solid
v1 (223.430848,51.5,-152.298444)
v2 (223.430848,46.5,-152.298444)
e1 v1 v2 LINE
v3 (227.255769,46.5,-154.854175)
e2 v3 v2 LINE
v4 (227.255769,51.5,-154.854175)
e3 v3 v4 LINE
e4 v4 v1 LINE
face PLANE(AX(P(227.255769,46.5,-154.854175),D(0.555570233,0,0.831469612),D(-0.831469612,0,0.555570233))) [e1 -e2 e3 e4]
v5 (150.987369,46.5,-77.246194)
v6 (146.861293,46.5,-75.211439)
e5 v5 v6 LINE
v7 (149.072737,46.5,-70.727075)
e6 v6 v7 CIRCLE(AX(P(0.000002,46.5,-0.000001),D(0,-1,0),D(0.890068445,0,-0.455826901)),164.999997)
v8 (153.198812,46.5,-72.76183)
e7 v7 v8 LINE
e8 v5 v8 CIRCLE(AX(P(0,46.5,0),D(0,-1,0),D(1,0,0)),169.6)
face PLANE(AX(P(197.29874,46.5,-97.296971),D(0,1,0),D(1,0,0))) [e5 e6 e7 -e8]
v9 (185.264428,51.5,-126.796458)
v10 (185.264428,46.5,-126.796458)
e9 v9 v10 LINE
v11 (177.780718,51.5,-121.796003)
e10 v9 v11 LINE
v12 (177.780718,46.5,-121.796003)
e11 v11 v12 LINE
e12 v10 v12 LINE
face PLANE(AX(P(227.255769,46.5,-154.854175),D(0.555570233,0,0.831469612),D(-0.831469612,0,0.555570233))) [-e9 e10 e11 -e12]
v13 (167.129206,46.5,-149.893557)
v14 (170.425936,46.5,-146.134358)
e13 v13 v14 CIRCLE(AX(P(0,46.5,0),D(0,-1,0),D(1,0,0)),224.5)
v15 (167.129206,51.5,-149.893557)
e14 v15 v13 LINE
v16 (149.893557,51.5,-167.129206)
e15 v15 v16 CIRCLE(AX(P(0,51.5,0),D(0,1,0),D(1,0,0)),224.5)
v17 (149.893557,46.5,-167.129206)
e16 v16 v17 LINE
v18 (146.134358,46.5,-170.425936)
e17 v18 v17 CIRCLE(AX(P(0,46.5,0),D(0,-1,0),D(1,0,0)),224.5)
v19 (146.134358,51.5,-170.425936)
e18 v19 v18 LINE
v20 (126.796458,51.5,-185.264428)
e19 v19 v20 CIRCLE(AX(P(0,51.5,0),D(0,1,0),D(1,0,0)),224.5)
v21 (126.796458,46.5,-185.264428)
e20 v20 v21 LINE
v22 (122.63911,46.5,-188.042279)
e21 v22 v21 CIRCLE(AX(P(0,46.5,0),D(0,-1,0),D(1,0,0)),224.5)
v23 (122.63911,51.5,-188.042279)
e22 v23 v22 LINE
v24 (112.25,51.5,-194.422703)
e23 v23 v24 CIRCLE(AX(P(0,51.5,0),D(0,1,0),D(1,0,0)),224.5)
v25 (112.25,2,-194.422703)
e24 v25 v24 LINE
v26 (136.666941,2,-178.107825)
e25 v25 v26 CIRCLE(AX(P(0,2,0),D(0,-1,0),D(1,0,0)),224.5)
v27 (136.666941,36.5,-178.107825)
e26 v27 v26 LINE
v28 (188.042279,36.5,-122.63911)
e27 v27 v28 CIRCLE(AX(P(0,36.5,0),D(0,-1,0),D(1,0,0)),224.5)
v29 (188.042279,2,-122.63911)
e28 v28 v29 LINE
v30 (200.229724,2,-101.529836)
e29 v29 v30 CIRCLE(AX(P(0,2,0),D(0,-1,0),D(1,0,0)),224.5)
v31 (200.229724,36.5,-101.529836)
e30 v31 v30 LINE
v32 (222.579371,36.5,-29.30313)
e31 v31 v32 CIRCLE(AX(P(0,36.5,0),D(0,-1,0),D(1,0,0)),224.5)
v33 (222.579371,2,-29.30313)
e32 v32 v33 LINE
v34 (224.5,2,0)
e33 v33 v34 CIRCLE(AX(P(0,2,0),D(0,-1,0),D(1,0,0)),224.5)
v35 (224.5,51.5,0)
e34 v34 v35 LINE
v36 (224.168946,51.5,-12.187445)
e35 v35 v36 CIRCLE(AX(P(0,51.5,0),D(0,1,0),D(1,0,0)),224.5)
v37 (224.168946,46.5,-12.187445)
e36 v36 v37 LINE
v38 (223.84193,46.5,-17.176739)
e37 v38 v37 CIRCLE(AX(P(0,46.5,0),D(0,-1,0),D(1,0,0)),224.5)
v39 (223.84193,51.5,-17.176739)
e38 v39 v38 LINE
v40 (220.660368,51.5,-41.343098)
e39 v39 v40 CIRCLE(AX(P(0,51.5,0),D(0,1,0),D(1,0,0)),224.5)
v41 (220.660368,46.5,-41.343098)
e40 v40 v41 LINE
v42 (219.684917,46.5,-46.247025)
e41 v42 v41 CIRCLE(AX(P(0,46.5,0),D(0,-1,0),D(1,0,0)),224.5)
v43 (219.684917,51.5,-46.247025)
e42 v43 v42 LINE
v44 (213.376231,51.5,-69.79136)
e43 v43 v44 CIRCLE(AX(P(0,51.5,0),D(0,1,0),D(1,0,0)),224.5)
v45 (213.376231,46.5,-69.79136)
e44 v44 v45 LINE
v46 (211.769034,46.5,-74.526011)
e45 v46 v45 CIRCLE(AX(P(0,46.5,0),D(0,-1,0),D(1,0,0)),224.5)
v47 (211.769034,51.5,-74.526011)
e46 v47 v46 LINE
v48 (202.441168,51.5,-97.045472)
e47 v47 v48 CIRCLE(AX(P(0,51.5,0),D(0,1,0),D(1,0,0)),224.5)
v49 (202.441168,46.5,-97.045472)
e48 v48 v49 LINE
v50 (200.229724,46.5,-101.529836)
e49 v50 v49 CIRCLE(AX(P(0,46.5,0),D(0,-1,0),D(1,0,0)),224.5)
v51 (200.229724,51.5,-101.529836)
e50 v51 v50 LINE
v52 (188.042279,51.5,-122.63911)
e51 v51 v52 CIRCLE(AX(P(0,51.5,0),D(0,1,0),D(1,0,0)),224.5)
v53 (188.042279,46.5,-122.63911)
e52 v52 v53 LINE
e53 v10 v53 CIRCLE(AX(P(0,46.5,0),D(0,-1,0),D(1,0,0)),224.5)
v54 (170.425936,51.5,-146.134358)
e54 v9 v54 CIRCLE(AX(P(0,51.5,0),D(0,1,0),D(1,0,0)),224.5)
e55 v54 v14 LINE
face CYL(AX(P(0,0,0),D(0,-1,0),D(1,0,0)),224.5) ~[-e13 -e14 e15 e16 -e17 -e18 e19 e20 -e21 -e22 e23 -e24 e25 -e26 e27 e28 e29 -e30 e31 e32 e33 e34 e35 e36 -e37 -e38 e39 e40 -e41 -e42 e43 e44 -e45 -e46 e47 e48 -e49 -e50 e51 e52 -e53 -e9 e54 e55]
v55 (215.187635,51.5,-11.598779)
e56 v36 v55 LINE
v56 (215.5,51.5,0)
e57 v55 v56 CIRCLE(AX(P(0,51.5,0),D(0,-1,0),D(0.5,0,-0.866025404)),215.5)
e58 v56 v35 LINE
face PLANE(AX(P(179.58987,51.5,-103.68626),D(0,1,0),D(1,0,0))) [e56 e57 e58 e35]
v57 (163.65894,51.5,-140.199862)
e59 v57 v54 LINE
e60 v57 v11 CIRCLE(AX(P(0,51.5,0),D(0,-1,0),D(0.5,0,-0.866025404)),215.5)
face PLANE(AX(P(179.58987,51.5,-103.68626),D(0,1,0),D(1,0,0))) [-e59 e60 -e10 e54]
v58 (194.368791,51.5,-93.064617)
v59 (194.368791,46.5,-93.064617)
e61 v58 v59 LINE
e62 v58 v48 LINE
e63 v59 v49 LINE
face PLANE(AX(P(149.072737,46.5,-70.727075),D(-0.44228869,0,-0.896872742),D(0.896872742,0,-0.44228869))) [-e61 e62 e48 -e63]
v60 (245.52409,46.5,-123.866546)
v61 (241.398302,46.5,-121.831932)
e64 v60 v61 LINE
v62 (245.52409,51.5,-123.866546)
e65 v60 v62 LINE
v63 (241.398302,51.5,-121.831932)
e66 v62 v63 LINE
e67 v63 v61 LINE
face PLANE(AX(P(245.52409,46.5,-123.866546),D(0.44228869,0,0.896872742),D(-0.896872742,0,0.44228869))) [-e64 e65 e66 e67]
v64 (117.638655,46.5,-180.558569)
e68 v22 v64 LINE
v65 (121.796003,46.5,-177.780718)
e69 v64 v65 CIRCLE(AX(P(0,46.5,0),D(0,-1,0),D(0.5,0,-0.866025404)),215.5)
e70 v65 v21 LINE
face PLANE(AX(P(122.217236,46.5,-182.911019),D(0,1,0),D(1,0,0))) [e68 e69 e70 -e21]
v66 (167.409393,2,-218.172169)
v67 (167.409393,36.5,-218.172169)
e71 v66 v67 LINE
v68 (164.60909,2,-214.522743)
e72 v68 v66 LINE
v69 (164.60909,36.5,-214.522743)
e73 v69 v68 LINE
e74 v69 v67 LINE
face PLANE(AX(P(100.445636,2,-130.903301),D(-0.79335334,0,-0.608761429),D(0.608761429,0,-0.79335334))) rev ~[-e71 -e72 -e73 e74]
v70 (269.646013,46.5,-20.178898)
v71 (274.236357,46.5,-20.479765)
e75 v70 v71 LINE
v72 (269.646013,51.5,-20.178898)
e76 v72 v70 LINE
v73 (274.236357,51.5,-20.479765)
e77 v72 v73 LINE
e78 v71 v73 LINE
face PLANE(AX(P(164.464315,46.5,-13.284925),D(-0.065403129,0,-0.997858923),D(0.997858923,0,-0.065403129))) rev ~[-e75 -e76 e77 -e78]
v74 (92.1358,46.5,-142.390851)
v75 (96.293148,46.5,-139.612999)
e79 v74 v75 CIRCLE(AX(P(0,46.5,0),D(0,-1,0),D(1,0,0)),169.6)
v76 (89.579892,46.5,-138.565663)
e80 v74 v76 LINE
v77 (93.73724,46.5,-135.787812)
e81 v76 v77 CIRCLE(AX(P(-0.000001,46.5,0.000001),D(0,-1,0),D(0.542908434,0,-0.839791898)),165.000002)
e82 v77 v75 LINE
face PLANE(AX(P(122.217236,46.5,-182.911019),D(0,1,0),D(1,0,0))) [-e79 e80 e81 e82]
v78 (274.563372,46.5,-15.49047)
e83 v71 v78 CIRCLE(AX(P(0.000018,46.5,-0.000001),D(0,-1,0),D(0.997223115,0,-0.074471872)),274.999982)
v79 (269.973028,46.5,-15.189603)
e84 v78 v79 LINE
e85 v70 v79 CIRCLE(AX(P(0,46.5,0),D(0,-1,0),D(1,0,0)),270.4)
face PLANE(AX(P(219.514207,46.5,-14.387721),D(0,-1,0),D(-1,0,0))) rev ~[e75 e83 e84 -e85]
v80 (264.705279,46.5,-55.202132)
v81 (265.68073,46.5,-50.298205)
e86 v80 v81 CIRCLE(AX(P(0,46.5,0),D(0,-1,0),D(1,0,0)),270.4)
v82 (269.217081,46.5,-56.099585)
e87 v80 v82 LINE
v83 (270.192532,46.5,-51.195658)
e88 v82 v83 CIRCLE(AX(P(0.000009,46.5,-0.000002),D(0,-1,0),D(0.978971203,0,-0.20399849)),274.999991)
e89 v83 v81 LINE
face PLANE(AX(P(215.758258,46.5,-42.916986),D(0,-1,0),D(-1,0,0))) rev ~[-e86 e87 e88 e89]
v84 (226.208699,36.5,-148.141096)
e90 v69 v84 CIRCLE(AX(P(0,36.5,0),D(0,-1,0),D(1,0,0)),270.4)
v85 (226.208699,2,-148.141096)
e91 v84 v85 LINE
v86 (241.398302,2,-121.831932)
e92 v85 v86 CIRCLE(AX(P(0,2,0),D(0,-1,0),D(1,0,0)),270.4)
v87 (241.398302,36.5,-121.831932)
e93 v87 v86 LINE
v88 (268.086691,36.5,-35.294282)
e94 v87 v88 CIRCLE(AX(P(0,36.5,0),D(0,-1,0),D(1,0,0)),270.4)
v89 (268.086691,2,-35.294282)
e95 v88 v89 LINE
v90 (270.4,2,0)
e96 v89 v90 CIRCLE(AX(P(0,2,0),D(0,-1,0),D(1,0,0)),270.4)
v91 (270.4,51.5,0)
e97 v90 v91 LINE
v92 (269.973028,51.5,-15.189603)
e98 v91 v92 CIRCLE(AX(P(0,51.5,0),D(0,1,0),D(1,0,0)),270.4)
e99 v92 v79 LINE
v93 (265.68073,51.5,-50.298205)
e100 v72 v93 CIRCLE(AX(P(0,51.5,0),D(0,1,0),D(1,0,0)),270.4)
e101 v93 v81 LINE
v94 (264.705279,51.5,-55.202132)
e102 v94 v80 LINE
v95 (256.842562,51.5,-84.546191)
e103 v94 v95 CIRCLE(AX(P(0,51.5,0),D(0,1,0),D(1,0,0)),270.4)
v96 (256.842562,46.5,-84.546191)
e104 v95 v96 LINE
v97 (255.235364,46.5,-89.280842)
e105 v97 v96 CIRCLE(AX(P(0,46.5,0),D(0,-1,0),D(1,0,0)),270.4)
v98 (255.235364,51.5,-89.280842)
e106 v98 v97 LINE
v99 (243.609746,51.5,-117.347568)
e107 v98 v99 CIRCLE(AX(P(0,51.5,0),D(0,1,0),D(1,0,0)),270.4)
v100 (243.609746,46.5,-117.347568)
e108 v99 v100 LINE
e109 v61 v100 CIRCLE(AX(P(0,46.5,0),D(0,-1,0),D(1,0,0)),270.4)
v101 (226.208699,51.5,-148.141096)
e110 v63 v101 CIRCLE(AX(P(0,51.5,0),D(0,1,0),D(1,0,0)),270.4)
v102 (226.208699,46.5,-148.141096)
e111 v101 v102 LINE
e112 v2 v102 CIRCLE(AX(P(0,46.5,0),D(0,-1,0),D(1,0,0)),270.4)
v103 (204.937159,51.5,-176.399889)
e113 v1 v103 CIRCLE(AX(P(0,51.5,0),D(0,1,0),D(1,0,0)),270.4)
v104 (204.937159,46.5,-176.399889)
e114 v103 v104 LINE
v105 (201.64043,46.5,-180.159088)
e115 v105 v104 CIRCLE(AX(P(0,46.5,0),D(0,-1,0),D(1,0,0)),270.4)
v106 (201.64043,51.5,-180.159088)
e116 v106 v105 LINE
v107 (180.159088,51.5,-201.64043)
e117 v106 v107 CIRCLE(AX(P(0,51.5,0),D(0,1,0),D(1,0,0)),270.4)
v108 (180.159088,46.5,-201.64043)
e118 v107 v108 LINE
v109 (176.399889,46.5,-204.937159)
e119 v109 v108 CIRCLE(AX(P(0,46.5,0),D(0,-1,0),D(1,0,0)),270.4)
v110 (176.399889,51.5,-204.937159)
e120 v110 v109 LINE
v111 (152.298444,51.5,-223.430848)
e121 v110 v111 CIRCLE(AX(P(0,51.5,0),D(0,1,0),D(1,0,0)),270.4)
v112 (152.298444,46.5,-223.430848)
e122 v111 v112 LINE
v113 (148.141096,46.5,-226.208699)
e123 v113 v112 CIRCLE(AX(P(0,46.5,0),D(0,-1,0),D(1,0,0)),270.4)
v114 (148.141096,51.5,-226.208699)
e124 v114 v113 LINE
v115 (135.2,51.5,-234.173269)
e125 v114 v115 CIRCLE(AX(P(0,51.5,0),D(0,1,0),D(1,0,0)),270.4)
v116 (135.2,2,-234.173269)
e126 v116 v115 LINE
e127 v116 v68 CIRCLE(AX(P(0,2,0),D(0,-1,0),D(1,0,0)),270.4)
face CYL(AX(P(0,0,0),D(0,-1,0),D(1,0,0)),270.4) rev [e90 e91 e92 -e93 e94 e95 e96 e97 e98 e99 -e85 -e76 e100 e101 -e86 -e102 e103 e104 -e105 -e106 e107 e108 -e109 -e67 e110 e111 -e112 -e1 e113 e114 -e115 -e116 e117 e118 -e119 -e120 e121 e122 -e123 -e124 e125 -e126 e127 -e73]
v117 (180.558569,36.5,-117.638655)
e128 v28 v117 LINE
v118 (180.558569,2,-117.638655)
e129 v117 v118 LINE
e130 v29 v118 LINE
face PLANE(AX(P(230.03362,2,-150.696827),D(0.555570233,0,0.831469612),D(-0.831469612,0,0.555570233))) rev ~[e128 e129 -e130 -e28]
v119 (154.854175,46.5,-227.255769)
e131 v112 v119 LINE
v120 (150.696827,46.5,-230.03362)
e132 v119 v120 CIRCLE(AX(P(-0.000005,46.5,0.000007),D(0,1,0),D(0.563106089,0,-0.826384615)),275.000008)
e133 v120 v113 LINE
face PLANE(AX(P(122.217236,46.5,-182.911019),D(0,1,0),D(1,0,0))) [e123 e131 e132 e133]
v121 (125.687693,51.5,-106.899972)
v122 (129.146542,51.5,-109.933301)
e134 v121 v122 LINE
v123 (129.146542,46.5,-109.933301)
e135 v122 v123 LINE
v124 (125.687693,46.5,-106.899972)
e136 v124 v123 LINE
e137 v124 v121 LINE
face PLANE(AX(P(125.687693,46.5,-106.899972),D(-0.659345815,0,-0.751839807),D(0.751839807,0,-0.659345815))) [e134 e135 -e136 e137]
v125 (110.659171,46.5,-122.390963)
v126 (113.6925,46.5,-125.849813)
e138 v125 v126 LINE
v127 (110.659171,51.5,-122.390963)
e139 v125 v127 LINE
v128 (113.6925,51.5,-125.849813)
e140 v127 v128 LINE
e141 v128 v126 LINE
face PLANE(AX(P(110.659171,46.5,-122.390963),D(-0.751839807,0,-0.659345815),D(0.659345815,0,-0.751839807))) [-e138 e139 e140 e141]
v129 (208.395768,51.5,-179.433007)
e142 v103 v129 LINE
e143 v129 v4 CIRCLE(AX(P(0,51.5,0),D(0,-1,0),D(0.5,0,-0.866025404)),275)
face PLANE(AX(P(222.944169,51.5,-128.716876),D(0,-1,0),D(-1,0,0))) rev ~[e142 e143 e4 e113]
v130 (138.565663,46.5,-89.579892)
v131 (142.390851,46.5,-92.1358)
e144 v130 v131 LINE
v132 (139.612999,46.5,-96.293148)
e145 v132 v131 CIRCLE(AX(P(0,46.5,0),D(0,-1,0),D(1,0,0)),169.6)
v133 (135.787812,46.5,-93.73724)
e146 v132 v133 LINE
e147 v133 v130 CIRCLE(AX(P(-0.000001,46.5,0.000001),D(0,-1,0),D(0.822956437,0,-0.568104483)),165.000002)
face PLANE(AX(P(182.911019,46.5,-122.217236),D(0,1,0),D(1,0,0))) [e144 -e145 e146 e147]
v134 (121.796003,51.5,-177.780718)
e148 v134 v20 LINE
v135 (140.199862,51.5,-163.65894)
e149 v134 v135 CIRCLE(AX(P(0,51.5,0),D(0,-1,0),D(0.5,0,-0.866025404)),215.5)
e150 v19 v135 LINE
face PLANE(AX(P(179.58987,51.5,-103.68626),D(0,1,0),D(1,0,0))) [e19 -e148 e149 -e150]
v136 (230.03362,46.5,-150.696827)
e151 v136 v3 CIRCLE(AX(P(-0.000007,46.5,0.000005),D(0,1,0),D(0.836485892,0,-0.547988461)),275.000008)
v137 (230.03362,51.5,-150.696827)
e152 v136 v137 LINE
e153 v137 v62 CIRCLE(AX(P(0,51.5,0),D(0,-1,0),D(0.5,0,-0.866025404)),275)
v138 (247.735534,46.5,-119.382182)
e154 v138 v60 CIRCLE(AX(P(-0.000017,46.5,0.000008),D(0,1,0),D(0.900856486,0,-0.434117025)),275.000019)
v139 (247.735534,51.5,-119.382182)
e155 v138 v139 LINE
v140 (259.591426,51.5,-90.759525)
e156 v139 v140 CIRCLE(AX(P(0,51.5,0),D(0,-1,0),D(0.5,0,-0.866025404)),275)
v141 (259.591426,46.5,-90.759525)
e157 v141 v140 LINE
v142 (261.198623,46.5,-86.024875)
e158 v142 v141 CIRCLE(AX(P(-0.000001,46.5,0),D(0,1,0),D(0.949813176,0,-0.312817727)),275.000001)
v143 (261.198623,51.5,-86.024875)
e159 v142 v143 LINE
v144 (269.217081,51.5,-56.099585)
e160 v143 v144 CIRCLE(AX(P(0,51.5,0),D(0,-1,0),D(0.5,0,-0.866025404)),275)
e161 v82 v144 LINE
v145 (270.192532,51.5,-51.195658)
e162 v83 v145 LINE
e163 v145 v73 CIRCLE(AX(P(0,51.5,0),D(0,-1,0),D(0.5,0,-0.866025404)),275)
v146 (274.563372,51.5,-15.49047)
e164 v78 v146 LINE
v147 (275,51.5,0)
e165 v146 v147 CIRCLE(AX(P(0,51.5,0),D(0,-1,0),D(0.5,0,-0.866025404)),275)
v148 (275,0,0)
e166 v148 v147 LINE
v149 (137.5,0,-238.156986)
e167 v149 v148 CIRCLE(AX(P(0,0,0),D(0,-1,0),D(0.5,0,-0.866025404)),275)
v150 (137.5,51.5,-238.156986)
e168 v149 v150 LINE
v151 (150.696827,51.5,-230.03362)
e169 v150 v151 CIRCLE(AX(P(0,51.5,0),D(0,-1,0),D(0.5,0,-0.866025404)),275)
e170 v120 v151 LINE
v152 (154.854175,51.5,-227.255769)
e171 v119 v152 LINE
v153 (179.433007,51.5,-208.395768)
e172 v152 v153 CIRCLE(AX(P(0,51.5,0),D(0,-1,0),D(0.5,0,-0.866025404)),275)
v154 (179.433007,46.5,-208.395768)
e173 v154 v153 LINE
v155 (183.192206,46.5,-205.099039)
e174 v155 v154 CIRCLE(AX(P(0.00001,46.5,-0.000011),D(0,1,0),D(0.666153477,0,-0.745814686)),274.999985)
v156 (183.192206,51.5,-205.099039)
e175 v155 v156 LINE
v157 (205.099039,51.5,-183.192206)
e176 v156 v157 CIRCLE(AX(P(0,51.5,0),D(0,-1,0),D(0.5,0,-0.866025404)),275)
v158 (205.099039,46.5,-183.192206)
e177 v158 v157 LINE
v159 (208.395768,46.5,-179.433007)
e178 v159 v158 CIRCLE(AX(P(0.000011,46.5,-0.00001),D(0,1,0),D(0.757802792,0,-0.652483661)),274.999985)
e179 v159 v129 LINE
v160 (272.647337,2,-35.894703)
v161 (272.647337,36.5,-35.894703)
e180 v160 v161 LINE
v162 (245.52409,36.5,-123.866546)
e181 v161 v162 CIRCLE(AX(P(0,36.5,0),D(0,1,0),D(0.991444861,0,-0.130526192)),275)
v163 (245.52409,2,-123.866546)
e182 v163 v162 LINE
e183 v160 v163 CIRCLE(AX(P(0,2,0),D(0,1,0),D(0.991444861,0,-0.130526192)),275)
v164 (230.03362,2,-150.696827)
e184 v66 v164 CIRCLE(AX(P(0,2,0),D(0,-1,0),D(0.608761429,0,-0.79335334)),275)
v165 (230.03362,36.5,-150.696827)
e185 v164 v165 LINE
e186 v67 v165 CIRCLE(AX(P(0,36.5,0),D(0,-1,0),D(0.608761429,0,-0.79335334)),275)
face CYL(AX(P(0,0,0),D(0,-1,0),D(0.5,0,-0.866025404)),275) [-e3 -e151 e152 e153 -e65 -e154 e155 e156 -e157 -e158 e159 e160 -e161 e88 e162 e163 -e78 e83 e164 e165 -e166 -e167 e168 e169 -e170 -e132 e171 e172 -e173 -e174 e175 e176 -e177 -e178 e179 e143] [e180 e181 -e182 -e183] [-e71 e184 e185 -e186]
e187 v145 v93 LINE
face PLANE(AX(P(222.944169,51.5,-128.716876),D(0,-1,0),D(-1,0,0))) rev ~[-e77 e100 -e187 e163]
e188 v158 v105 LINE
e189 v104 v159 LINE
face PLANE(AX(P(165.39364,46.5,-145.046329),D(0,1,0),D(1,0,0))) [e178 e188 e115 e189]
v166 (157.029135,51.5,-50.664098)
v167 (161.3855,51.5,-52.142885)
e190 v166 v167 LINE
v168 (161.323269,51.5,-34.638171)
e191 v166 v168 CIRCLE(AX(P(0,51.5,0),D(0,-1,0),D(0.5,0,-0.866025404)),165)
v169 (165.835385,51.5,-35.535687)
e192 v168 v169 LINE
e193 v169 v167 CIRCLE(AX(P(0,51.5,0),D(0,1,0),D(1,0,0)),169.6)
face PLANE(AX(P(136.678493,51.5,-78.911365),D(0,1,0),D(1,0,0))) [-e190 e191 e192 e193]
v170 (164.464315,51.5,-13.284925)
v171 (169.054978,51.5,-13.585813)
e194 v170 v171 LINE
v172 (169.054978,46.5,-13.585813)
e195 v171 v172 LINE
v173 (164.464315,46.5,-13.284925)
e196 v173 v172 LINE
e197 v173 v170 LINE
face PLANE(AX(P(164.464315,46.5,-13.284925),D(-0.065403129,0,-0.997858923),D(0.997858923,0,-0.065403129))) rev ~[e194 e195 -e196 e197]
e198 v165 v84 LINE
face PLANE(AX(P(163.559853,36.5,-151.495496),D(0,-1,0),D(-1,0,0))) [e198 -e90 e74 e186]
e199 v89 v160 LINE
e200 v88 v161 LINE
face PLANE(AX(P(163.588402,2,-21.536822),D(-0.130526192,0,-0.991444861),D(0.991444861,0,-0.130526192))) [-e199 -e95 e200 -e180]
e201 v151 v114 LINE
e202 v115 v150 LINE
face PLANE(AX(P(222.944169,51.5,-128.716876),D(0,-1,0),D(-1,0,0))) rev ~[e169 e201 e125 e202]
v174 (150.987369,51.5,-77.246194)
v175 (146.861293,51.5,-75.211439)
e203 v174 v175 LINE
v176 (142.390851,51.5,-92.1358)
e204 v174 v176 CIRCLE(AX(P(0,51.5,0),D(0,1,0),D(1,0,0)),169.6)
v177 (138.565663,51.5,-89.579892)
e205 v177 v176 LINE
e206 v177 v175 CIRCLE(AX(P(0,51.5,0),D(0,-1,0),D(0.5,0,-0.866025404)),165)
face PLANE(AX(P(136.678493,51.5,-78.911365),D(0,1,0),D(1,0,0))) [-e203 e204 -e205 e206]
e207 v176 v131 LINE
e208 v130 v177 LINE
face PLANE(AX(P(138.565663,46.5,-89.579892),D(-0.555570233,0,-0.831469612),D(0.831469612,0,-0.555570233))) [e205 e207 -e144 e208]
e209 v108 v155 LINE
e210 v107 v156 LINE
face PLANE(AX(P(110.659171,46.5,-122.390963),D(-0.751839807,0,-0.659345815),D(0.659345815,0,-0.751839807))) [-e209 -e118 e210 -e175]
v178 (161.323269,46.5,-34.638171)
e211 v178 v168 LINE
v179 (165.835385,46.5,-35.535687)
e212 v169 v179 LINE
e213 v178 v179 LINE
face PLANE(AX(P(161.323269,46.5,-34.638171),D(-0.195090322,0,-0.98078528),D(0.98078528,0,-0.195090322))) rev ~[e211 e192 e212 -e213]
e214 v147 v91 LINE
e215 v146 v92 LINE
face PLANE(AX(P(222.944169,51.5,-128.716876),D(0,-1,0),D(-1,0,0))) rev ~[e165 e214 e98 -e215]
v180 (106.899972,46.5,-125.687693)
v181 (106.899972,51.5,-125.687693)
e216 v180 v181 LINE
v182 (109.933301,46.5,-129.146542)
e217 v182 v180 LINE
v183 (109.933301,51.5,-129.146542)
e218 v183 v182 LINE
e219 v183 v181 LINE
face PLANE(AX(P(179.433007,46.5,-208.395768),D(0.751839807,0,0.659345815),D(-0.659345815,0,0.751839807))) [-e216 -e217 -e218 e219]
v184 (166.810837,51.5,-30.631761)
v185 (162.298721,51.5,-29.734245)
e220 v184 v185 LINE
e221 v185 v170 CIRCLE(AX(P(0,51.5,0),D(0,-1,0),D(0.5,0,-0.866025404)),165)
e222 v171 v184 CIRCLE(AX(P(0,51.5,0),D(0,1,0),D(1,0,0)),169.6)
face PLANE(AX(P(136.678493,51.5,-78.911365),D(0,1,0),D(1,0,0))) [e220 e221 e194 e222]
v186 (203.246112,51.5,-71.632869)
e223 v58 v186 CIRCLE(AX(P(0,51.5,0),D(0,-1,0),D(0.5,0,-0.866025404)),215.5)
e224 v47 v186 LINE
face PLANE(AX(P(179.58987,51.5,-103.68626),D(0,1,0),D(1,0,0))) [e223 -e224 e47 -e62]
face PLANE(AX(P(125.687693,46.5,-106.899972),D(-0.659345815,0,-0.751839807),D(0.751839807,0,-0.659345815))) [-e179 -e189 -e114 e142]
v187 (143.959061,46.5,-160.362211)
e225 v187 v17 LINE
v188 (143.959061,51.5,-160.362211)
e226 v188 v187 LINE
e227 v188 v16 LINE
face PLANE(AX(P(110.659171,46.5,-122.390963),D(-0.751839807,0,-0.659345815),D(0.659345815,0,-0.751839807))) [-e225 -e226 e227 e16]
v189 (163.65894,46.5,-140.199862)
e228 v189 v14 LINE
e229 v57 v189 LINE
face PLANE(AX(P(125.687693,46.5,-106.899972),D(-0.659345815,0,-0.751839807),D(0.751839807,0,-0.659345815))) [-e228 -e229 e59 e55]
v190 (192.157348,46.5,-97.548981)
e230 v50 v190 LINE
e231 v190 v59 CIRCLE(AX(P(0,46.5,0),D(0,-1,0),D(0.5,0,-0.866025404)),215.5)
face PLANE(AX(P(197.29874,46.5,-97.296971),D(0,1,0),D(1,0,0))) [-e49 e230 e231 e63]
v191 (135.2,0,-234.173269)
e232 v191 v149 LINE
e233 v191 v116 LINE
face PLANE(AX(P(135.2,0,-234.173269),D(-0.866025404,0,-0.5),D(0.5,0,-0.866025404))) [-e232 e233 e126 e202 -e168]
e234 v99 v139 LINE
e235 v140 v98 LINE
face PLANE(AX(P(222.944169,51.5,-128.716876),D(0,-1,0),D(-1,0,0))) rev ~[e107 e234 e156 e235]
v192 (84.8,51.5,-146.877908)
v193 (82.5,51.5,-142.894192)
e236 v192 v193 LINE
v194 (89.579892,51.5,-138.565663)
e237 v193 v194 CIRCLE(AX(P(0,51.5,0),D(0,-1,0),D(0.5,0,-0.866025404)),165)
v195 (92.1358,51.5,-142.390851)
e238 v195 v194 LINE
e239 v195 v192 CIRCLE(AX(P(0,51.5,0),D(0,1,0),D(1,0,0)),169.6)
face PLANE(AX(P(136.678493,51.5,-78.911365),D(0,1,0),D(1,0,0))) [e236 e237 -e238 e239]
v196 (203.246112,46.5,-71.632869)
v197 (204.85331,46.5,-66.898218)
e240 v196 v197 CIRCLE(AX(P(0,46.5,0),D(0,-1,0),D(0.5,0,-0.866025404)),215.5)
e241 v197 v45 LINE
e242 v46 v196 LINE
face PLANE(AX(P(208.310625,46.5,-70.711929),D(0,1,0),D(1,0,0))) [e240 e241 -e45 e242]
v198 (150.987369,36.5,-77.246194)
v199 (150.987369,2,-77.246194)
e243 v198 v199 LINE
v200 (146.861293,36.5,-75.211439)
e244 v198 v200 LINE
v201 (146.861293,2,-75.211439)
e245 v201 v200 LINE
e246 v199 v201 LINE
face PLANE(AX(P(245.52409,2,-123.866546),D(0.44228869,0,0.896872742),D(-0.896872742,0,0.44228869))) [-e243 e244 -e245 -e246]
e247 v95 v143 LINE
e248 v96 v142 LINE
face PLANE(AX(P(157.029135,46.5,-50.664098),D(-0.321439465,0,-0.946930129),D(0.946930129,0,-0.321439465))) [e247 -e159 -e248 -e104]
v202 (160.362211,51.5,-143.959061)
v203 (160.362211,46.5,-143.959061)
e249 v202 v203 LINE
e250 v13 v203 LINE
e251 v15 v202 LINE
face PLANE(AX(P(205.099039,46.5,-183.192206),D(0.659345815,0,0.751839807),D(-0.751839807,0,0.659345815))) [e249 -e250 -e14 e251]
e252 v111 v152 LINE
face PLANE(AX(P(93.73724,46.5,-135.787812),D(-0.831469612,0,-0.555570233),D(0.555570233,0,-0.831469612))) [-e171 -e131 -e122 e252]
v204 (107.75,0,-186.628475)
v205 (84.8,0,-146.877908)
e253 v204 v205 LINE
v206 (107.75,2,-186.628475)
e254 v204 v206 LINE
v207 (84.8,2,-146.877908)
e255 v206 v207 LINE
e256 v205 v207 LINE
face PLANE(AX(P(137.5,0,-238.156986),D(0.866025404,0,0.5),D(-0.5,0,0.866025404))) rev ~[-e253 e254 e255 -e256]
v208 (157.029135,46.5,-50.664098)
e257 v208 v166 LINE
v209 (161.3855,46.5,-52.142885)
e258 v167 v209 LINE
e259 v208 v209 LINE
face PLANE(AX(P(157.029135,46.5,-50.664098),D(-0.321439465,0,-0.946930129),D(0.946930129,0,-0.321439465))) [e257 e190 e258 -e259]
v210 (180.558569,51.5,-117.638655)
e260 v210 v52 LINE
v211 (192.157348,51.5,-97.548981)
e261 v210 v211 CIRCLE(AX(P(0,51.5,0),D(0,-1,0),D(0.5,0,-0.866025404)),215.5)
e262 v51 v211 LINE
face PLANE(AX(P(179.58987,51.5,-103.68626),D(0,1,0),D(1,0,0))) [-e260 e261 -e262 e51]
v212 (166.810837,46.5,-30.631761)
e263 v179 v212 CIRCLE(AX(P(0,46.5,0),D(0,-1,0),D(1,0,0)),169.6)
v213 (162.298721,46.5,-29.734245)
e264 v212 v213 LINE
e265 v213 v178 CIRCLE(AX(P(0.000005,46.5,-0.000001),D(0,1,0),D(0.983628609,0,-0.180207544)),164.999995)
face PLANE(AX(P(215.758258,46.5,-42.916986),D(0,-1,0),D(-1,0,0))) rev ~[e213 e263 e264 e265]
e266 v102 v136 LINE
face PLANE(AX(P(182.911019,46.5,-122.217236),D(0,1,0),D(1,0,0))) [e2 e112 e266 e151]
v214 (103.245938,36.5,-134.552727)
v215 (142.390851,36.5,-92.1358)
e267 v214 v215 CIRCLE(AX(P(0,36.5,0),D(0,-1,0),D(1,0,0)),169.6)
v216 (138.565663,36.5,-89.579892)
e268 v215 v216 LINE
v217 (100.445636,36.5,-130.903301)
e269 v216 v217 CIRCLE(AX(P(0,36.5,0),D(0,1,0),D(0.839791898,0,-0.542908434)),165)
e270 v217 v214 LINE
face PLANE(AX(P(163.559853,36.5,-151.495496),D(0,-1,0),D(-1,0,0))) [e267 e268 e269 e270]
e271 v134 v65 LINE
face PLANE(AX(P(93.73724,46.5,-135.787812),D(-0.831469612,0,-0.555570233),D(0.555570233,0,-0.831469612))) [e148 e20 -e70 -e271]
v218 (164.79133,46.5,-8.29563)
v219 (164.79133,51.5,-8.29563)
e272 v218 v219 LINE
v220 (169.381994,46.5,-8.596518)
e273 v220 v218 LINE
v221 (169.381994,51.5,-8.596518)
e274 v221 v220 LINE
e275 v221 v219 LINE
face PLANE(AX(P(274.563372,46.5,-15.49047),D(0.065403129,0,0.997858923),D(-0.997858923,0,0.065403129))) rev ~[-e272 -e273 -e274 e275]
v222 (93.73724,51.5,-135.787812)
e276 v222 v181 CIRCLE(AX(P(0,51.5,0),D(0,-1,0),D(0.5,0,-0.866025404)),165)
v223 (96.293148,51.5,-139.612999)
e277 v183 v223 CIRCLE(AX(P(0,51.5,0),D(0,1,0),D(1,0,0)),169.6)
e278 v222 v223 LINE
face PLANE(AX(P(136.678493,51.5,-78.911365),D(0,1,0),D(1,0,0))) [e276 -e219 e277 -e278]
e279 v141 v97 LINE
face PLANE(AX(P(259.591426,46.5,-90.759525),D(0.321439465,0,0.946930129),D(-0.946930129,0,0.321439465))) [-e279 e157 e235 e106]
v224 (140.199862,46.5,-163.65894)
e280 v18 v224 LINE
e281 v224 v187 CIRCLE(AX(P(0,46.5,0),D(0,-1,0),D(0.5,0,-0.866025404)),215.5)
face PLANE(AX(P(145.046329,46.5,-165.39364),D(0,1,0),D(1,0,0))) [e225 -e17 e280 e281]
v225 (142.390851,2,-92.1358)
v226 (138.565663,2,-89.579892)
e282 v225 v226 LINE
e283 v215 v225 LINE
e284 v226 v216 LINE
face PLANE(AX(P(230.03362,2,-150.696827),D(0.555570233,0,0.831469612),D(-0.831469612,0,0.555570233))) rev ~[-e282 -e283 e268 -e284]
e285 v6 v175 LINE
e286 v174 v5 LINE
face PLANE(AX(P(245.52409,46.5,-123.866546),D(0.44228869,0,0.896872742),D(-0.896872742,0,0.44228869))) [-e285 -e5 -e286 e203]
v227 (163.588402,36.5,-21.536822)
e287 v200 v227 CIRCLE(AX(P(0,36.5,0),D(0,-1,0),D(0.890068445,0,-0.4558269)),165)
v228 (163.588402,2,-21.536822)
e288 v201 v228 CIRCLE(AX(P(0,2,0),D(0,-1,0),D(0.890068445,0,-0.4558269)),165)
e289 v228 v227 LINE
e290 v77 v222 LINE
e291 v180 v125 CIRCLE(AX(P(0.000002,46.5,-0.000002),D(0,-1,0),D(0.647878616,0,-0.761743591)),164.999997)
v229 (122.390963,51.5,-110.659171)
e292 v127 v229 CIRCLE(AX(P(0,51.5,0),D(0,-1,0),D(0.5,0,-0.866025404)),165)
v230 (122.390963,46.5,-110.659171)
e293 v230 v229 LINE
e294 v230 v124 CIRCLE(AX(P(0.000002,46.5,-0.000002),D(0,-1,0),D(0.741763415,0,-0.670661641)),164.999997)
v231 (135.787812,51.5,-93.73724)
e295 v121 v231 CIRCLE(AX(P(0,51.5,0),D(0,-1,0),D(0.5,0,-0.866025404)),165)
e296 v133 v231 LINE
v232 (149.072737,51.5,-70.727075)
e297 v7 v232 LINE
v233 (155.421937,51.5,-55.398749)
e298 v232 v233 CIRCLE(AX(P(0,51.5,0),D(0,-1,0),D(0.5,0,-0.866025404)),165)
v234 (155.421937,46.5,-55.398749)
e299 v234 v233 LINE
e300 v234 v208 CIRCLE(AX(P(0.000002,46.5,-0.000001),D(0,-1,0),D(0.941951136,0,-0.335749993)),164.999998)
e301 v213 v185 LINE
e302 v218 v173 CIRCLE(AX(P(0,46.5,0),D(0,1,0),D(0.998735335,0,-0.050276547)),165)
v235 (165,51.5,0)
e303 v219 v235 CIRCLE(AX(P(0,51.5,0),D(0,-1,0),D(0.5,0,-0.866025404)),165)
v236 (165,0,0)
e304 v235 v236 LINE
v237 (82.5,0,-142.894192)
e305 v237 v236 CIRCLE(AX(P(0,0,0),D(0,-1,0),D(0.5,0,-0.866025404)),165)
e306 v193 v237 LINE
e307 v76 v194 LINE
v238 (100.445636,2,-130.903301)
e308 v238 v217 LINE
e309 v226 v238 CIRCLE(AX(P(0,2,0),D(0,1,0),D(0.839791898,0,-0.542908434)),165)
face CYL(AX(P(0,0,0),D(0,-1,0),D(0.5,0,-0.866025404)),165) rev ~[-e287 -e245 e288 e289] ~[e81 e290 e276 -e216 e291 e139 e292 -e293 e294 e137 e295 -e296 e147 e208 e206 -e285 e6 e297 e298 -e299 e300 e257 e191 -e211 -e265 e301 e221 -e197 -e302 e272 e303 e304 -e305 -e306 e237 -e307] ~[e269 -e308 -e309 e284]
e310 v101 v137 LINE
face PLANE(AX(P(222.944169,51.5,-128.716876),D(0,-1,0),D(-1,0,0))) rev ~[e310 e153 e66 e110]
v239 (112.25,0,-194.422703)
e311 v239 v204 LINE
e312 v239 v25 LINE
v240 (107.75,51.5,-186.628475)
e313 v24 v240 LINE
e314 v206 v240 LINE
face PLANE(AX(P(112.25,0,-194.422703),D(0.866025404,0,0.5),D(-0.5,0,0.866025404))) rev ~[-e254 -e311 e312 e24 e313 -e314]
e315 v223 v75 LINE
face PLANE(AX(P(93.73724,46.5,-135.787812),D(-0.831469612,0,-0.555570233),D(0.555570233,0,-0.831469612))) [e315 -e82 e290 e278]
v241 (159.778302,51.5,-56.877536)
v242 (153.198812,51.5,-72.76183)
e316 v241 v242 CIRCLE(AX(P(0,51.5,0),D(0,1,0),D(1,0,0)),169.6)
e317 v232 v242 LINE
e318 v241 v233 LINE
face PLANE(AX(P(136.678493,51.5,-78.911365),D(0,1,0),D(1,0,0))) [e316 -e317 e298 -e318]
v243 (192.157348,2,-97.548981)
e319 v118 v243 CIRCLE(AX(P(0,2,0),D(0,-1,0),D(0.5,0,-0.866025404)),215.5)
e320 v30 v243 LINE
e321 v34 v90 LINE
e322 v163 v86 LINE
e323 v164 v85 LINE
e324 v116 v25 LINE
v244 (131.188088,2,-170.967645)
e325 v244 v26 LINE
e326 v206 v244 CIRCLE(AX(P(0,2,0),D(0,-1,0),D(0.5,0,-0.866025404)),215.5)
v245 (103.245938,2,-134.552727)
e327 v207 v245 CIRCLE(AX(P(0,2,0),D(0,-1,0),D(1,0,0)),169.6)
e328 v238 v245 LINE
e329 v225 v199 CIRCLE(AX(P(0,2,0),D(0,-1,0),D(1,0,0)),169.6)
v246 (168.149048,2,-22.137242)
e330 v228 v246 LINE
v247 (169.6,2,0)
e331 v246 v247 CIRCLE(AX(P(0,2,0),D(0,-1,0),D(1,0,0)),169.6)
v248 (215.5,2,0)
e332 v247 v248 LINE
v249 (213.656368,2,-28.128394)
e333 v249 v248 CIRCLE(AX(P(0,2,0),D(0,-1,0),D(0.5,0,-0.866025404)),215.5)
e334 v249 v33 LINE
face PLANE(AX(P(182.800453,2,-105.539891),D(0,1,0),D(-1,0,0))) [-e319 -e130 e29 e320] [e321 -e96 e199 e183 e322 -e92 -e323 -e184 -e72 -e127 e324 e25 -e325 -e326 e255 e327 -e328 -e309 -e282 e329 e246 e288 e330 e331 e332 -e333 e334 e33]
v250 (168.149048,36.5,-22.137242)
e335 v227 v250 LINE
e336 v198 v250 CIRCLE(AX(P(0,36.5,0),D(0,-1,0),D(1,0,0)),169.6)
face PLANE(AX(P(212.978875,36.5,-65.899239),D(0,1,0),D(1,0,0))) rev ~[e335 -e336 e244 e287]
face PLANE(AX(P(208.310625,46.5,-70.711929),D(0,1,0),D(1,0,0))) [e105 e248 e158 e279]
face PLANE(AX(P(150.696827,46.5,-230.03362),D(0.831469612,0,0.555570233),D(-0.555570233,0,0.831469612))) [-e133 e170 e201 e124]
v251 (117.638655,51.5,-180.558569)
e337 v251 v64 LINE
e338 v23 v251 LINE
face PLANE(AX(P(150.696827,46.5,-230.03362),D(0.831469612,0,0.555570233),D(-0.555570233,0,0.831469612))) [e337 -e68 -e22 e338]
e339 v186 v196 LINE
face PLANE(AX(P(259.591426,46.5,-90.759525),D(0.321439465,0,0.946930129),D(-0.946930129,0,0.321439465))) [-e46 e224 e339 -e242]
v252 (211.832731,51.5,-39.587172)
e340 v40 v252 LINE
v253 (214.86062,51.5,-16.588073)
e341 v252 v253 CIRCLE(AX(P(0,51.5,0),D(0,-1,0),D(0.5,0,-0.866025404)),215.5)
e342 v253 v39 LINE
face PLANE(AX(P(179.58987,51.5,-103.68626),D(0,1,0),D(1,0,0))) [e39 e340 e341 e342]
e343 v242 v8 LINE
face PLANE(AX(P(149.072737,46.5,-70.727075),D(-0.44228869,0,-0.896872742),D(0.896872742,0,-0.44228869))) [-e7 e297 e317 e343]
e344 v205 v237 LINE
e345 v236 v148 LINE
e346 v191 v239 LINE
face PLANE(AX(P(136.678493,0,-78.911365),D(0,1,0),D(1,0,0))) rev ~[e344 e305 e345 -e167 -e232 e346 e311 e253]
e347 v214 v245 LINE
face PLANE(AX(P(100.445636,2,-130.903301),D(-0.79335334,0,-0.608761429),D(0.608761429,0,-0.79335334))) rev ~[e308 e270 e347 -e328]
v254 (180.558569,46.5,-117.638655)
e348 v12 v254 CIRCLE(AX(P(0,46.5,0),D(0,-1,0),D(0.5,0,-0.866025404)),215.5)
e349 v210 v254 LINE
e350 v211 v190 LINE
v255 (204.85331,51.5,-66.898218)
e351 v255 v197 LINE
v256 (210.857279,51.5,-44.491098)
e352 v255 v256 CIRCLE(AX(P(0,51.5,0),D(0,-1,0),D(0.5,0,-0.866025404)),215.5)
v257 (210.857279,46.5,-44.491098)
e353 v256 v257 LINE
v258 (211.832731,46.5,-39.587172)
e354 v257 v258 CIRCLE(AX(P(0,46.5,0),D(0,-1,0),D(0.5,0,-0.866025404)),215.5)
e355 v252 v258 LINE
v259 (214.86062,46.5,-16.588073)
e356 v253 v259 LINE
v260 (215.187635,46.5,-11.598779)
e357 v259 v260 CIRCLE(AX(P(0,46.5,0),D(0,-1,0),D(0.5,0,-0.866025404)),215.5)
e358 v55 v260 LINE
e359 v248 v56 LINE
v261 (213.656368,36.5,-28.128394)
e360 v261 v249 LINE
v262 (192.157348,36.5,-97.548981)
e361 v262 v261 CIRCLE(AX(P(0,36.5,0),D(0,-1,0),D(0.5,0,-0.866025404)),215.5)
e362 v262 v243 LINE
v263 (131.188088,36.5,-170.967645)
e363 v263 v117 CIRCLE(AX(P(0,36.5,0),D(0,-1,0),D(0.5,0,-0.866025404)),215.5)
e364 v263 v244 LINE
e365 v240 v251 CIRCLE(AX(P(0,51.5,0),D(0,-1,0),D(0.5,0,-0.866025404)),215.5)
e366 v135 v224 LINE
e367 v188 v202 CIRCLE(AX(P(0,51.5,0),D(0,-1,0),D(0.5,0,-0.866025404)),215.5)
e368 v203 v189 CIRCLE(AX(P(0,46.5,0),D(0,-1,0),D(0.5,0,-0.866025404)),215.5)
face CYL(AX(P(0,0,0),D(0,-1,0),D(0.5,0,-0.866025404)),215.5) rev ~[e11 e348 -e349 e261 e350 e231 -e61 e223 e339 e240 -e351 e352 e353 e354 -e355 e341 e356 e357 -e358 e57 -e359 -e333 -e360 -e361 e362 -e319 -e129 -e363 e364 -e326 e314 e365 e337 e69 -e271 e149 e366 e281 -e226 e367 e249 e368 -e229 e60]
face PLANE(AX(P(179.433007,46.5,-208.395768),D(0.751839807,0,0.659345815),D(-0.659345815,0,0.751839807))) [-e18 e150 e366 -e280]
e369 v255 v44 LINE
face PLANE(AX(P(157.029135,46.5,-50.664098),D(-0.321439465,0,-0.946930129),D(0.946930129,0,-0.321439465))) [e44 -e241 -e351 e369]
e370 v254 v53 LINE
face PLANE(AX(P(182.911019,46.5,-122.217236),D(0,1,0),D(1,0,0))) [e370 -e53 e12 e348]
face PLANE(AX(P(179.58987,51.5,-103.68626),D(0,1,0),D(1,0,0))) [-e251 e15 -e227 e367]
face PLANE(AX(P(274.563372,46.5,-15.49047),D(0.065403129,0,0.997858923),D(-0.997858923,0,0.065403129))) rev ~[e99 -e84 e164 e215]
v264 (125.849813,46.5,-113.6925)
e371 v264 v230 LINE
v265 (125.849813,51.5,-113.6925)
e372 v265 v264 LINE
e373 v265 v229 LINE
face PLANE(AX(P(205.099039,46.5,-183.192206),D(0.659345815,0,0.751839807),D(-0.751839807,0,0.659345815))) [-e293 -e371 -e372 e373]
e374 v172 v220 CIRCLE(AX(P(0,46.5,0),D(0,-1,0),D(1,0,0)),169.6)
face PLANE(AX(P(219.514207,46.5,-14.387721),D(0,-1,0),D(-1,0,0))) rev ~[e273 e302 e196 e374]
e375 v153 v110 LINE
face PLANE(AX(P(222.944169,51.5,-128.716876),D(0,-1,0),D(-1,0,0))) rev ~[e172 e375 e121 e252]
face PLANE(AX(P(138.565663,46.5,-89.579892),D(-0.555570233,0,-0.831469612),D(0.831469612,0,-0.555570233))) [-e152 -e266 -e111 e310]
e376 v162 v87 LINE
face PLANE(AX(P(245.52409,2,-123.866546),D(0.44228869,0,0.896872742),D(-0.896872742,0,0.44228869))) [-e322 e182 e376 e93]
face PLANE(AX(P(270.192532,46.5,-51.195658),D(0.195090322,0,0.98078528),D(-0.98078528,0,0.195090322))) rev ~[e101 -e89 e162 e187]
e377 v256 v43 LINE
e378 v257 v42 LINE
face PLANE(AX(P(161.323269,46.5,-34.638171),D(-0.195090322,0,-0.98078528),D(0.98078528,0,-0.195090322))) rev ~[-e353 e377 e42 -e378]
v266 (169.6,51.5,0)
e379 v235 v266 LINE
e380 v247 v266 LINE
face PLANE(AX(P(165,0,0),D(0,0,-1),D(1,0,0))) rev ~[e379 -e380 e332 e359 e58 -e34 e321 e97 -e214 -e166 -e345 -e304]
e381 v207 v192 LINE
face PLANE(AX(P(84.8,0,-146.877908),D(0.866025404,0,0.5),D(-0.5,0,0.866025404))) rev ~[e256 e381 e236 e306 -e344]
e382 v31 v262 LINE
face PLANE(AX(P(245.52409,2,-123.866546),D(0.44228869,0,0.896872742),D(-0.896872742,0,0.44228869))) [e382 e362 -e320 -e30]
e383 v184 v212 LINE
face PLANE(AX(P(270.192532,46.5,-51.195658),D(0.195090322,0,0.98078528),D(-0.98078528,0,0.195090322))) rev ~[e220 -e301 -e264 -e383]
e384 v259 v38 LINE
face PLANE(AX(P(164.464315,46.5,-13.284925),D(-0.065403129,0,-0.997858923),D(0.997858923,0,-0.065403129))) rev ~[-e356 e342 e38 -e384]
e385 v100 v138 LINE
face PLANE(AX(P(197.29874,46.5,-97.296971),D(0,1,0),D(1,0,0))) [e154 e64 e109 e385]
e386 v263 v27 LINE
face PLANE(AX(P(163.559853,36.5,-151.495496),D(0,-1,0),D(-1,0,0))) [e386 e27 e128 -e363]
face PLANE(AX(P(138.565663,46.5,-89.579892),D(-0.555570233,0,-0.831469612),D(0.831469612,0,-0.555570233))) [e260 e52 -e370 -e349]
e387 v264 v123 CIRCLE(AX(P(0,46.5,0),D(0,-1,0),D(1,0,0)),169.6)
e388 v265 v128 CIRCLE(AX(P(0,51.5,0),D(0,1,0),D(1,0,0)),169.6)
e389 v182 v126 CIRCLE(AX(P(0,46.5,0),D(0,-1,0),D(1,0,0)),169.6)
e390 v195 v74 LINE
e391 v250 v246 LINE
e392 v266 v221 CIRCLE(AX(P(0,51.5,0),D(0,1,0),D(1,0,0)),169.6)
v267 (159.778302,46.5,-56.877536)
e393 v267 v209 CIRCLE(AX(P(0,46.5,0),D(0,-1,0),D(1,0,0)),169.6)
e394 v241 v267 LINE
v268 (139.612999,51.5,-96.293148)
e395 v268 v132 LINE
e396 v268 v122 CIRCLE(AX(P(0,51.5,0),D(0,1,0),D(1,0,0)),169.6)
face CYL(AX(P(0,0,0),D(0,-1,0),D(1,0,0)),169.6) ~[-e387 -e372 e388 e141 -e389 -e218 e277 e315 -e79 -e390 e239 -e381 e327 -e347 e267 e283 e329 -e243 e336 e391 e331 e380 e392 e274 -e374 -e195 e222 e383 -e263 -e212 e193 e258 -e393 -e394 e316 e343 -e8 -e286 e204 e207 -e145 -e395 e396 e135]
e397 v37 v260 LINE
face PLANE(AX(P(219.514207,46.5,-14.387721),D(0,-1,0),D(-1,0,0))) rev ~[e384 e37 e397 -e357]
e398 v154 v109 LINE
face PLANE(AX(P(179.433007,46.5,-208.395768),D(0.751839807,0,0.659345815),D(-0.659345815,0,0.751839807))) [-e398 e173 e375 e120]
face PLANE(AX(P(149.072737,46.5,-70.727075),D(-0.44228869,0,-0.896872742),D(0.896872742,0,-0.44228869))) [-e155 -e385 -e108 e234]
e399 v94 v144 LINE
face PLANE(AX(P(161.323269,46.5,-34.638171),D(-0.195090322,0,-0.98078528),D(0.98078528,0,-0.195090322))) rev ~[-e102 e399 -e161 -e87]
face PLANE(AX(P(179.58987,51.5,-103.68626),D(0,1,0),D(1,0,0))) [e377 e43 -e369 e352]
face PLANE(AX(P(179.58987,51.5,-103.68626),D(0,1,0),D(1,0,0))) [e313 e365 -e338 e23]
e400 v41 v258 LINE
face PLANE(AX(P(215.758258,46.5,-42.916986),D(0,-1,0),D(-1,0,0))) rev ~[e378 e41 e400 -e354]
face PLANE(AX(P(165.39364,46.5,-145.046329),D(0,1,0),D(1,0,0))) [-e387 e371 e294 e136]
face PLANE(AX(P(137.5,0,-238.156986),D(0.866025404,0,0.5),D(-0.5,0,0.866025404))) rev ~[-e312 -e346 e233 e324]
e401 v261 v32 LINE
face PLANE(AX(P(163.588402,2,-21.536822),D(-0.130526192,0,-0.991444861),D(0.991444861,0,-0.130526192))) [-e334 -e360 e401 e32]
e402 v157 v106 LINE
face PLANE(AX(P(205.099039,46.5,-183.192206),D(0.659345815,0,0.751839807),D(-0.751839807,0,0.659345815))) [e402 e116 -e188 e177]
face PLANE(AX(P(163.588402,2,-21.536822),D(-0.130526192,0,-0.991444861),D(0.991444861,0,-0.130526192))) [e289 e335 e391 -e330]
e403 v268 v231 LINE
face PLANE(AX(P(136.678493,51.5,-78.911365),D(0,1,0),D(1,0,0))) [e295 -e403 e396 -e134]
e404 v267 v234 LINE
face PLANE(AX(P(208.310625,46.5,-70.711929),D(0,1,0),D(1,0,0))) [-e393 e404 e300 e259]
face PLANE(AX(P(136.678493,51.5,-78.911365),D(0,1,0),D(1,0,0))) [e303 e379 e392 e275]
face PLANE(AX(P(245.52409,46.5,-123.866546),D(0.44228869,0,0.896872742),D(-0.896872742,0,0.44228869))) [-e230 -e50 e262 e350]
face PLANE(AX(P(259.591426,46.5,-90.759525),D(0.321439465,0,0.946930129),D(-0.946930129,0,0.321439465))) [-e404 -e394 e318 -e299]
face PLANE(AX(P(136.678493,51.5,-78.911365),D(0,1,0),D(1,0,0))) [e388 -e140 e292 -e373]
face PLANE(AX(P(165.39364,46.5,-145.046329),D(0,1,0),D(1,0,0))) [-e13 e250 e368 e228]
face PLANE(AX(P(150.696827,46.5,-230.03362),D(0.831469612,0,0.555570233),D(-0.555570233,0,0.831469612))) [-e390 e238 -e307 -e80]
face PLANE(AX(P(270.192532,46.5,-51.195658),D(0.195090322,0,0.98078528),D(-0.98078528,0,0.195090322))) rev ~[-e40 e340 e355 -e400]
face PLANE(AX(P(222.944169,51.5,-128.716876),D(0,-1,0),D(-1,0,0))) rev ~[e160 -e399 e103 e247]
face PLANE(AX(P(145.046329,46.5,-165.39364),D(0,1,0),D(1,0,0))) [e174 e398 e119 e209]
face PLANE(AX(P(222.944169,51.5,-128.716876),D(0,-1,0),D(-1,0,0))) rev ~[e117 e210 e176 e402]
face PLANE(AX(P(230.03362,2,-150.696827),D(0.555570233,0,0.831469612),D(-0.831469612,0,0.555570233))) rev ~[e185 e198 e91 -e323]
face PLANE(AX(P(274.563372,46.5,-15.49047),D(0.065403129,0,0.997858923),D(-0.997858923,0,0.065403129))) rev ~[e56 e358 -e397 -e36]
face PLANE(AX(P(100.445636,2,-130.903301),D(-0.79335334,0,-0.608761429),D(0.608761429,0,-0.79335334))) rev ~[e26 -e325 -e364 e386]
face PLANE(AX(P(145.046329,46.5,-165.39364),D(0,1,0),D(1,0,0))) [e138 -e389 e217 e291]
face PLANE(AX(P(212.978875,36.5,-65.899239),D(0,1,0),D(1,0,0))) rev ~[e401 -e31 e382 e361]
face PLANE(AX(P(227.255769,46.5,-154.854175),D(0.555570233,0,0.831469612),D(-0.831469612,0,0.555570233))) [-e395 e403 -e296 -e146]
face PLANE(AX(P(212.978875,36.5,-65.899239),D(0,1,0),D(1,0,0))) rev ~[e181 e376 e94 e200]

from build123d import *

# Parameters (mm, degrees)
AUFSATZ_LINEAR_AUSTRAGEN1_DEPTH   = 51.5
AUFSATZ_LINEAR_AUSTRAGEN1_2_DEPTH = 51.5
AUFSATZ_LINEAR_AUSTRAGEN1_3_DEPTH = 51.5
SCHNITT_LINEAR_START              = -5
SCHNITT_LINEAR_AUSTRAGEN1_DEPTH   = 5
AUFSATZ_LINEAR_AUSTRAGEN2_DEPTH   = 2
SCHNITT_LINEAR_START_2            = -49.5
SCHNITT_LINEAR_AUSTRAGEN2_DEPTH   = 34.5


with BuildPart() as part:
    # Skizze1 → Aufsatz-Linear austragen1 (new body)
    with BuildSketch(Plane(origin=(0, 0, 0), x_dir=(1, 0, 0), z_dir=(0, 1, 0))):
        with BuildLine():
            Line((165, 0), (169.6, 0))
            ThreePointArc((169.6, 0), (146.877908482, 84.8), (84.8, 146.877908482))
            Line((84.8, 146.877908482), (82.5, 142.894191624))
            ThreePointArc((82.5, 142.894191624), (142.894191624, 82.5), (165, 0))
        make_face()
    extrude(amount=AUFSATZ_LINEAR_AUSTRAGEN1_DEPTH)


with BuildPart() as body_2:
    # Skizze1 → Aufsatz-Linear austragen1 2 (new body)
    with BuildSketch(Plane(origin=(0, 0, 0), x_dir=(1, 0, 0), z_dir=(0, 1, 0))):
        with BuildLine():
            Line((215.5, 0), (224.5, 0))
            ThreePointArc((224.5, 0), (194.42270315, 112.25), (112.25, 194.42270315))
            Line((112.25, 194.42270315), (107.75, 186.628474516))
            ThreePointArc((107.75, 186.628474516), (186.628474516, 107.75), (215.5, 0))
        make_face()
    extrude(amount=AUFSATZ_LINEAR_AUSTRAGEN1_2_DEPTH)


with BuildPart() as body_3:
    # Skizze1 → Aufsatz-Linear austragen1 3 (new body)
    with BuildSketch(Plane(origin=(0, 0, 0), x_dir=(1, 0, 0), z_dir=(0, 1, 0))):
        with BuildLine():
            Line((135.2, 234.173269183), (137.5, 238.156986041))
            ThreePointArc((137.5, 238.156986041), (238.156986041, 137.5), (275, 0))
            Line((275, 0), (270.4, 0))
            ThreePointArc((270.4, 0), (234.173269183, 135.2), (135.2, 234.173269183))
        make_face()
    extrude(amount=AUFSATZ_LINEAR_AUSTRAGEN1_3_DEPTH)


with BuildPart() as schnitt_linear_austragen1_tool:
    # Skizze2 → Schnitt-Linear austragen1 (new body)
    with BuildSketch(Plane(origin=(0, 51.5, 0), x_dir=(1, 0, 0), z_dir=(0, 1, 0)).offset(SCHNITT_LINEAR_START)):
        with BuildLine():
            Line((164.464314583, 13.284924864), (274.236356527, 20.479764614))
            ThreePointArc((274.236356527, 20.479764614), (274.411203891, 17.985860538), (274.563372173, 15.490469997))
            Line((274.563372173, 15.490469997), (164.791330229, 8.295630248))
            ThreePointArc((164.791330229, 8.295630248), (164.646722334, 10.791516323), (164.464314583, 13.284924864))
        make_face()
        with BuildLine():
            Line((161.323268916, 34.638171229), (269.217080788, 56.099584774))
            ThreePointArc((269.217080788, 56.099584774), (269.715952111, 53.649838554), (270.192532398, 51.195658372))
            Line((270.192532398, 51.195658372), (162.298720527, 29.734244827))
            ThreePointArc((162.298720527, 29.734244827), (161.829571267, 32.189903133), (161.323268916, 34.638171229))
        make_face()
        with BuildLine():
            Line((157.029134718, 50.664098233), (261.198623482, 86.024874838))
            ThreePointArc((261.198623482, 86.024874838), (260.405785611, 88.395852958), (259.591426156, 90.759525485))
            Line((259.591426156, 90.759525485), (155.421937391, 55.398748881))
            ThreePointArc((155.421937391, 55.398748881), (156.243471367, 53.037511775), (157.029134718, 50.664098233))
        make_face()
        with BuildLine():
            Line((149.072736877, 70.727074872), (247.735533701, 119.382181845))
            ThreePointArc((247.735533701, 119.382181845), (246.640003921, 121.62938981), (245.52409025, 123.866545552))
            Line((245.52409025, 123.866545552), (146.861293426, 75.211438579))
            ThreePointArc((146.861293426, 75.211438579), (147.984002353, 72.977633886), (149.072736877, 70.727074872))
        make_face()
        with BuildLine():
            Line((138.565663178, 89.57989165), (230.033620252, 150.696826621))
            ThreePointArc((230.033620252, 150.696826621), (228.654143383, 152.78181408), (227.255769087, 154.854174683))
            Line((227.255769087, 154.854174683), (135.787812013, 93.737239712))
            ThreePointArc((135.787812013, 93.737239712), (137.19248603, 91.669088448), (138.565663178, 89.57989165))
        make_face()
        with BuildLine():
            Line((125.687692564, 106.899971646), (208.395767784, 179.433006913))
            ThreePointArc((208.395767784, 179.433006913), (206.755947057, 181.320099153), (205.099038708, 183.19220595))
            Line((205.099038708, 183.19220595), (122.390963489, 110.659170683))
            ThreePointArc((122.390963489, 110.659170683), (124.053568234, 108.792059492), (125.687692564, 106.899971646))
        make_face()
        with BuildLine():
            Line((110.659170683, 122.390963489), (183.19220595, 205.099038708))
            ThreePointArc((183.19220595, 205.099038708), (181.320099153, 206.755947057), (179.433006913, 208.395767784))
            Line((179.433006913, 208.395767784), (106.899971646, 125.687692564))
            ThreePointArc((106.899971646, 125.687692564), (108.792059492, 124.053568234), (110.659170683, 122.390963489))
        make_face()
        with BuildLine():
            Line((93.737239712, 135.787812013), (154.854174683, 227.255769087))
            ThreePointArc((154.854174683, 227.255769087), (152.78181408, 228.654143383), (150.696826621, 230.033620252))
            Line((150.696826621, 230.033620252), (89.57989165, 138.565663178))
            ThreePointArc((89.57989165, 138.565663178), (91.669088448, 137.19248603), (93.737239712, 135.787812013))
        make_face()
    extrude(amount=SCHNITT_LINEAR_AUSTRAGEN1_DEPTH)


with BuildPart() as part_1:
    add(part.part)

    # Schnitt-Linear austragen1: cut by schnitt_linear_austragen1_tool
    add(schnitt_linear_austragen1_tool.part, mode=Mode.SUBTRACT)



with BuildPart() as body_2_1:
    add(body_2.part)

    # Schnitt-Linear austragen1: cut by schnitt_linear_austragen1_tool
    add(schnitt_linear_austragen1_tool.part, mode=Mode.SUBTRACT)


with BuildPart() as body_3_1:
    add(body_3.part)

    # Schnitt-Linear austragen1: cut by schnitt_linear_austragen1_tool
    add(schnitt_linear_austragen1_tool.part, mode=Mode.SUBTRACT)


with BuildPart() as part_2:
    add(part_1.part)

    add(body_2_1.part)  # Aufsatz-Linear austragen2 merges body 2

    add(body_3_1.part)  # Aufsatz-Linear austragen2 merges body 3
    # Skizze4 → Aufsatz-Linear austragen2 (add)
    with BuildSketch(Plane.XZ):
        with BuildLine():
            Line((165, 0), (275, 0))
            ThreePointArc((275, 0), (238.156986041, -137.5), (137.5, -238.156986041))
            Line((137.5, -238.156986041), (82.5, -142.894191624))
            ThreePointArc((82.5, -142.894191624), (142.894191624, -82.5), (165, 0))
        make_face()
    extrude(amount=-AUFSATZ_LINEAR_AUSTRAGEN2_DEPTH)

    # Skizze5 → Schnitt-Linear austragen2 (cut)
    with BuildSketch(Plane(origin=(0, 51.5, 0), x_dir=(1, 0, 0), z_dir=(0, 1, 0)).offset(SCHNITT_LINEAR_START_2)):
        with BuildLine():
            Line((100.445635786, 130.903301148), (167.409392977, 218.17216858))
            ThreePointArc((167.409392977, 218.17216858), (201.565045666, 187.073601466), (230.033620252, 150.696826621))
            Line((230.033620252, 150.696826621), (138.565663178, 89.57989165))
            ThreePointArc((138.565663178, 89.57989165), (121.278630852, 111.877136622), (100.445635786, 130.903301148))
        make_face()
        with BuildLine():
            Line((163.588402127, 21.536821716), (272.647336878, 35.894702861))
            ThreePointArc((272.647336878, 35.894702861), (262.79301408, 81.023649329), (245.52409025, 123.866545552))
            Line((245.52409025, 123.866545552), (146.861293426, 75.211438579))
            ThreePointArc((146.861293426, 75.211438579), (157.527757843, 49.091806943), (163.588402127, 21.536821716))
        make_face()
    extrude(amount=SCHNITT_LINEAR_AUSTRAGEN2_DEPTH, mode=Mode.SUBTRACT)


solid = part_2.part
